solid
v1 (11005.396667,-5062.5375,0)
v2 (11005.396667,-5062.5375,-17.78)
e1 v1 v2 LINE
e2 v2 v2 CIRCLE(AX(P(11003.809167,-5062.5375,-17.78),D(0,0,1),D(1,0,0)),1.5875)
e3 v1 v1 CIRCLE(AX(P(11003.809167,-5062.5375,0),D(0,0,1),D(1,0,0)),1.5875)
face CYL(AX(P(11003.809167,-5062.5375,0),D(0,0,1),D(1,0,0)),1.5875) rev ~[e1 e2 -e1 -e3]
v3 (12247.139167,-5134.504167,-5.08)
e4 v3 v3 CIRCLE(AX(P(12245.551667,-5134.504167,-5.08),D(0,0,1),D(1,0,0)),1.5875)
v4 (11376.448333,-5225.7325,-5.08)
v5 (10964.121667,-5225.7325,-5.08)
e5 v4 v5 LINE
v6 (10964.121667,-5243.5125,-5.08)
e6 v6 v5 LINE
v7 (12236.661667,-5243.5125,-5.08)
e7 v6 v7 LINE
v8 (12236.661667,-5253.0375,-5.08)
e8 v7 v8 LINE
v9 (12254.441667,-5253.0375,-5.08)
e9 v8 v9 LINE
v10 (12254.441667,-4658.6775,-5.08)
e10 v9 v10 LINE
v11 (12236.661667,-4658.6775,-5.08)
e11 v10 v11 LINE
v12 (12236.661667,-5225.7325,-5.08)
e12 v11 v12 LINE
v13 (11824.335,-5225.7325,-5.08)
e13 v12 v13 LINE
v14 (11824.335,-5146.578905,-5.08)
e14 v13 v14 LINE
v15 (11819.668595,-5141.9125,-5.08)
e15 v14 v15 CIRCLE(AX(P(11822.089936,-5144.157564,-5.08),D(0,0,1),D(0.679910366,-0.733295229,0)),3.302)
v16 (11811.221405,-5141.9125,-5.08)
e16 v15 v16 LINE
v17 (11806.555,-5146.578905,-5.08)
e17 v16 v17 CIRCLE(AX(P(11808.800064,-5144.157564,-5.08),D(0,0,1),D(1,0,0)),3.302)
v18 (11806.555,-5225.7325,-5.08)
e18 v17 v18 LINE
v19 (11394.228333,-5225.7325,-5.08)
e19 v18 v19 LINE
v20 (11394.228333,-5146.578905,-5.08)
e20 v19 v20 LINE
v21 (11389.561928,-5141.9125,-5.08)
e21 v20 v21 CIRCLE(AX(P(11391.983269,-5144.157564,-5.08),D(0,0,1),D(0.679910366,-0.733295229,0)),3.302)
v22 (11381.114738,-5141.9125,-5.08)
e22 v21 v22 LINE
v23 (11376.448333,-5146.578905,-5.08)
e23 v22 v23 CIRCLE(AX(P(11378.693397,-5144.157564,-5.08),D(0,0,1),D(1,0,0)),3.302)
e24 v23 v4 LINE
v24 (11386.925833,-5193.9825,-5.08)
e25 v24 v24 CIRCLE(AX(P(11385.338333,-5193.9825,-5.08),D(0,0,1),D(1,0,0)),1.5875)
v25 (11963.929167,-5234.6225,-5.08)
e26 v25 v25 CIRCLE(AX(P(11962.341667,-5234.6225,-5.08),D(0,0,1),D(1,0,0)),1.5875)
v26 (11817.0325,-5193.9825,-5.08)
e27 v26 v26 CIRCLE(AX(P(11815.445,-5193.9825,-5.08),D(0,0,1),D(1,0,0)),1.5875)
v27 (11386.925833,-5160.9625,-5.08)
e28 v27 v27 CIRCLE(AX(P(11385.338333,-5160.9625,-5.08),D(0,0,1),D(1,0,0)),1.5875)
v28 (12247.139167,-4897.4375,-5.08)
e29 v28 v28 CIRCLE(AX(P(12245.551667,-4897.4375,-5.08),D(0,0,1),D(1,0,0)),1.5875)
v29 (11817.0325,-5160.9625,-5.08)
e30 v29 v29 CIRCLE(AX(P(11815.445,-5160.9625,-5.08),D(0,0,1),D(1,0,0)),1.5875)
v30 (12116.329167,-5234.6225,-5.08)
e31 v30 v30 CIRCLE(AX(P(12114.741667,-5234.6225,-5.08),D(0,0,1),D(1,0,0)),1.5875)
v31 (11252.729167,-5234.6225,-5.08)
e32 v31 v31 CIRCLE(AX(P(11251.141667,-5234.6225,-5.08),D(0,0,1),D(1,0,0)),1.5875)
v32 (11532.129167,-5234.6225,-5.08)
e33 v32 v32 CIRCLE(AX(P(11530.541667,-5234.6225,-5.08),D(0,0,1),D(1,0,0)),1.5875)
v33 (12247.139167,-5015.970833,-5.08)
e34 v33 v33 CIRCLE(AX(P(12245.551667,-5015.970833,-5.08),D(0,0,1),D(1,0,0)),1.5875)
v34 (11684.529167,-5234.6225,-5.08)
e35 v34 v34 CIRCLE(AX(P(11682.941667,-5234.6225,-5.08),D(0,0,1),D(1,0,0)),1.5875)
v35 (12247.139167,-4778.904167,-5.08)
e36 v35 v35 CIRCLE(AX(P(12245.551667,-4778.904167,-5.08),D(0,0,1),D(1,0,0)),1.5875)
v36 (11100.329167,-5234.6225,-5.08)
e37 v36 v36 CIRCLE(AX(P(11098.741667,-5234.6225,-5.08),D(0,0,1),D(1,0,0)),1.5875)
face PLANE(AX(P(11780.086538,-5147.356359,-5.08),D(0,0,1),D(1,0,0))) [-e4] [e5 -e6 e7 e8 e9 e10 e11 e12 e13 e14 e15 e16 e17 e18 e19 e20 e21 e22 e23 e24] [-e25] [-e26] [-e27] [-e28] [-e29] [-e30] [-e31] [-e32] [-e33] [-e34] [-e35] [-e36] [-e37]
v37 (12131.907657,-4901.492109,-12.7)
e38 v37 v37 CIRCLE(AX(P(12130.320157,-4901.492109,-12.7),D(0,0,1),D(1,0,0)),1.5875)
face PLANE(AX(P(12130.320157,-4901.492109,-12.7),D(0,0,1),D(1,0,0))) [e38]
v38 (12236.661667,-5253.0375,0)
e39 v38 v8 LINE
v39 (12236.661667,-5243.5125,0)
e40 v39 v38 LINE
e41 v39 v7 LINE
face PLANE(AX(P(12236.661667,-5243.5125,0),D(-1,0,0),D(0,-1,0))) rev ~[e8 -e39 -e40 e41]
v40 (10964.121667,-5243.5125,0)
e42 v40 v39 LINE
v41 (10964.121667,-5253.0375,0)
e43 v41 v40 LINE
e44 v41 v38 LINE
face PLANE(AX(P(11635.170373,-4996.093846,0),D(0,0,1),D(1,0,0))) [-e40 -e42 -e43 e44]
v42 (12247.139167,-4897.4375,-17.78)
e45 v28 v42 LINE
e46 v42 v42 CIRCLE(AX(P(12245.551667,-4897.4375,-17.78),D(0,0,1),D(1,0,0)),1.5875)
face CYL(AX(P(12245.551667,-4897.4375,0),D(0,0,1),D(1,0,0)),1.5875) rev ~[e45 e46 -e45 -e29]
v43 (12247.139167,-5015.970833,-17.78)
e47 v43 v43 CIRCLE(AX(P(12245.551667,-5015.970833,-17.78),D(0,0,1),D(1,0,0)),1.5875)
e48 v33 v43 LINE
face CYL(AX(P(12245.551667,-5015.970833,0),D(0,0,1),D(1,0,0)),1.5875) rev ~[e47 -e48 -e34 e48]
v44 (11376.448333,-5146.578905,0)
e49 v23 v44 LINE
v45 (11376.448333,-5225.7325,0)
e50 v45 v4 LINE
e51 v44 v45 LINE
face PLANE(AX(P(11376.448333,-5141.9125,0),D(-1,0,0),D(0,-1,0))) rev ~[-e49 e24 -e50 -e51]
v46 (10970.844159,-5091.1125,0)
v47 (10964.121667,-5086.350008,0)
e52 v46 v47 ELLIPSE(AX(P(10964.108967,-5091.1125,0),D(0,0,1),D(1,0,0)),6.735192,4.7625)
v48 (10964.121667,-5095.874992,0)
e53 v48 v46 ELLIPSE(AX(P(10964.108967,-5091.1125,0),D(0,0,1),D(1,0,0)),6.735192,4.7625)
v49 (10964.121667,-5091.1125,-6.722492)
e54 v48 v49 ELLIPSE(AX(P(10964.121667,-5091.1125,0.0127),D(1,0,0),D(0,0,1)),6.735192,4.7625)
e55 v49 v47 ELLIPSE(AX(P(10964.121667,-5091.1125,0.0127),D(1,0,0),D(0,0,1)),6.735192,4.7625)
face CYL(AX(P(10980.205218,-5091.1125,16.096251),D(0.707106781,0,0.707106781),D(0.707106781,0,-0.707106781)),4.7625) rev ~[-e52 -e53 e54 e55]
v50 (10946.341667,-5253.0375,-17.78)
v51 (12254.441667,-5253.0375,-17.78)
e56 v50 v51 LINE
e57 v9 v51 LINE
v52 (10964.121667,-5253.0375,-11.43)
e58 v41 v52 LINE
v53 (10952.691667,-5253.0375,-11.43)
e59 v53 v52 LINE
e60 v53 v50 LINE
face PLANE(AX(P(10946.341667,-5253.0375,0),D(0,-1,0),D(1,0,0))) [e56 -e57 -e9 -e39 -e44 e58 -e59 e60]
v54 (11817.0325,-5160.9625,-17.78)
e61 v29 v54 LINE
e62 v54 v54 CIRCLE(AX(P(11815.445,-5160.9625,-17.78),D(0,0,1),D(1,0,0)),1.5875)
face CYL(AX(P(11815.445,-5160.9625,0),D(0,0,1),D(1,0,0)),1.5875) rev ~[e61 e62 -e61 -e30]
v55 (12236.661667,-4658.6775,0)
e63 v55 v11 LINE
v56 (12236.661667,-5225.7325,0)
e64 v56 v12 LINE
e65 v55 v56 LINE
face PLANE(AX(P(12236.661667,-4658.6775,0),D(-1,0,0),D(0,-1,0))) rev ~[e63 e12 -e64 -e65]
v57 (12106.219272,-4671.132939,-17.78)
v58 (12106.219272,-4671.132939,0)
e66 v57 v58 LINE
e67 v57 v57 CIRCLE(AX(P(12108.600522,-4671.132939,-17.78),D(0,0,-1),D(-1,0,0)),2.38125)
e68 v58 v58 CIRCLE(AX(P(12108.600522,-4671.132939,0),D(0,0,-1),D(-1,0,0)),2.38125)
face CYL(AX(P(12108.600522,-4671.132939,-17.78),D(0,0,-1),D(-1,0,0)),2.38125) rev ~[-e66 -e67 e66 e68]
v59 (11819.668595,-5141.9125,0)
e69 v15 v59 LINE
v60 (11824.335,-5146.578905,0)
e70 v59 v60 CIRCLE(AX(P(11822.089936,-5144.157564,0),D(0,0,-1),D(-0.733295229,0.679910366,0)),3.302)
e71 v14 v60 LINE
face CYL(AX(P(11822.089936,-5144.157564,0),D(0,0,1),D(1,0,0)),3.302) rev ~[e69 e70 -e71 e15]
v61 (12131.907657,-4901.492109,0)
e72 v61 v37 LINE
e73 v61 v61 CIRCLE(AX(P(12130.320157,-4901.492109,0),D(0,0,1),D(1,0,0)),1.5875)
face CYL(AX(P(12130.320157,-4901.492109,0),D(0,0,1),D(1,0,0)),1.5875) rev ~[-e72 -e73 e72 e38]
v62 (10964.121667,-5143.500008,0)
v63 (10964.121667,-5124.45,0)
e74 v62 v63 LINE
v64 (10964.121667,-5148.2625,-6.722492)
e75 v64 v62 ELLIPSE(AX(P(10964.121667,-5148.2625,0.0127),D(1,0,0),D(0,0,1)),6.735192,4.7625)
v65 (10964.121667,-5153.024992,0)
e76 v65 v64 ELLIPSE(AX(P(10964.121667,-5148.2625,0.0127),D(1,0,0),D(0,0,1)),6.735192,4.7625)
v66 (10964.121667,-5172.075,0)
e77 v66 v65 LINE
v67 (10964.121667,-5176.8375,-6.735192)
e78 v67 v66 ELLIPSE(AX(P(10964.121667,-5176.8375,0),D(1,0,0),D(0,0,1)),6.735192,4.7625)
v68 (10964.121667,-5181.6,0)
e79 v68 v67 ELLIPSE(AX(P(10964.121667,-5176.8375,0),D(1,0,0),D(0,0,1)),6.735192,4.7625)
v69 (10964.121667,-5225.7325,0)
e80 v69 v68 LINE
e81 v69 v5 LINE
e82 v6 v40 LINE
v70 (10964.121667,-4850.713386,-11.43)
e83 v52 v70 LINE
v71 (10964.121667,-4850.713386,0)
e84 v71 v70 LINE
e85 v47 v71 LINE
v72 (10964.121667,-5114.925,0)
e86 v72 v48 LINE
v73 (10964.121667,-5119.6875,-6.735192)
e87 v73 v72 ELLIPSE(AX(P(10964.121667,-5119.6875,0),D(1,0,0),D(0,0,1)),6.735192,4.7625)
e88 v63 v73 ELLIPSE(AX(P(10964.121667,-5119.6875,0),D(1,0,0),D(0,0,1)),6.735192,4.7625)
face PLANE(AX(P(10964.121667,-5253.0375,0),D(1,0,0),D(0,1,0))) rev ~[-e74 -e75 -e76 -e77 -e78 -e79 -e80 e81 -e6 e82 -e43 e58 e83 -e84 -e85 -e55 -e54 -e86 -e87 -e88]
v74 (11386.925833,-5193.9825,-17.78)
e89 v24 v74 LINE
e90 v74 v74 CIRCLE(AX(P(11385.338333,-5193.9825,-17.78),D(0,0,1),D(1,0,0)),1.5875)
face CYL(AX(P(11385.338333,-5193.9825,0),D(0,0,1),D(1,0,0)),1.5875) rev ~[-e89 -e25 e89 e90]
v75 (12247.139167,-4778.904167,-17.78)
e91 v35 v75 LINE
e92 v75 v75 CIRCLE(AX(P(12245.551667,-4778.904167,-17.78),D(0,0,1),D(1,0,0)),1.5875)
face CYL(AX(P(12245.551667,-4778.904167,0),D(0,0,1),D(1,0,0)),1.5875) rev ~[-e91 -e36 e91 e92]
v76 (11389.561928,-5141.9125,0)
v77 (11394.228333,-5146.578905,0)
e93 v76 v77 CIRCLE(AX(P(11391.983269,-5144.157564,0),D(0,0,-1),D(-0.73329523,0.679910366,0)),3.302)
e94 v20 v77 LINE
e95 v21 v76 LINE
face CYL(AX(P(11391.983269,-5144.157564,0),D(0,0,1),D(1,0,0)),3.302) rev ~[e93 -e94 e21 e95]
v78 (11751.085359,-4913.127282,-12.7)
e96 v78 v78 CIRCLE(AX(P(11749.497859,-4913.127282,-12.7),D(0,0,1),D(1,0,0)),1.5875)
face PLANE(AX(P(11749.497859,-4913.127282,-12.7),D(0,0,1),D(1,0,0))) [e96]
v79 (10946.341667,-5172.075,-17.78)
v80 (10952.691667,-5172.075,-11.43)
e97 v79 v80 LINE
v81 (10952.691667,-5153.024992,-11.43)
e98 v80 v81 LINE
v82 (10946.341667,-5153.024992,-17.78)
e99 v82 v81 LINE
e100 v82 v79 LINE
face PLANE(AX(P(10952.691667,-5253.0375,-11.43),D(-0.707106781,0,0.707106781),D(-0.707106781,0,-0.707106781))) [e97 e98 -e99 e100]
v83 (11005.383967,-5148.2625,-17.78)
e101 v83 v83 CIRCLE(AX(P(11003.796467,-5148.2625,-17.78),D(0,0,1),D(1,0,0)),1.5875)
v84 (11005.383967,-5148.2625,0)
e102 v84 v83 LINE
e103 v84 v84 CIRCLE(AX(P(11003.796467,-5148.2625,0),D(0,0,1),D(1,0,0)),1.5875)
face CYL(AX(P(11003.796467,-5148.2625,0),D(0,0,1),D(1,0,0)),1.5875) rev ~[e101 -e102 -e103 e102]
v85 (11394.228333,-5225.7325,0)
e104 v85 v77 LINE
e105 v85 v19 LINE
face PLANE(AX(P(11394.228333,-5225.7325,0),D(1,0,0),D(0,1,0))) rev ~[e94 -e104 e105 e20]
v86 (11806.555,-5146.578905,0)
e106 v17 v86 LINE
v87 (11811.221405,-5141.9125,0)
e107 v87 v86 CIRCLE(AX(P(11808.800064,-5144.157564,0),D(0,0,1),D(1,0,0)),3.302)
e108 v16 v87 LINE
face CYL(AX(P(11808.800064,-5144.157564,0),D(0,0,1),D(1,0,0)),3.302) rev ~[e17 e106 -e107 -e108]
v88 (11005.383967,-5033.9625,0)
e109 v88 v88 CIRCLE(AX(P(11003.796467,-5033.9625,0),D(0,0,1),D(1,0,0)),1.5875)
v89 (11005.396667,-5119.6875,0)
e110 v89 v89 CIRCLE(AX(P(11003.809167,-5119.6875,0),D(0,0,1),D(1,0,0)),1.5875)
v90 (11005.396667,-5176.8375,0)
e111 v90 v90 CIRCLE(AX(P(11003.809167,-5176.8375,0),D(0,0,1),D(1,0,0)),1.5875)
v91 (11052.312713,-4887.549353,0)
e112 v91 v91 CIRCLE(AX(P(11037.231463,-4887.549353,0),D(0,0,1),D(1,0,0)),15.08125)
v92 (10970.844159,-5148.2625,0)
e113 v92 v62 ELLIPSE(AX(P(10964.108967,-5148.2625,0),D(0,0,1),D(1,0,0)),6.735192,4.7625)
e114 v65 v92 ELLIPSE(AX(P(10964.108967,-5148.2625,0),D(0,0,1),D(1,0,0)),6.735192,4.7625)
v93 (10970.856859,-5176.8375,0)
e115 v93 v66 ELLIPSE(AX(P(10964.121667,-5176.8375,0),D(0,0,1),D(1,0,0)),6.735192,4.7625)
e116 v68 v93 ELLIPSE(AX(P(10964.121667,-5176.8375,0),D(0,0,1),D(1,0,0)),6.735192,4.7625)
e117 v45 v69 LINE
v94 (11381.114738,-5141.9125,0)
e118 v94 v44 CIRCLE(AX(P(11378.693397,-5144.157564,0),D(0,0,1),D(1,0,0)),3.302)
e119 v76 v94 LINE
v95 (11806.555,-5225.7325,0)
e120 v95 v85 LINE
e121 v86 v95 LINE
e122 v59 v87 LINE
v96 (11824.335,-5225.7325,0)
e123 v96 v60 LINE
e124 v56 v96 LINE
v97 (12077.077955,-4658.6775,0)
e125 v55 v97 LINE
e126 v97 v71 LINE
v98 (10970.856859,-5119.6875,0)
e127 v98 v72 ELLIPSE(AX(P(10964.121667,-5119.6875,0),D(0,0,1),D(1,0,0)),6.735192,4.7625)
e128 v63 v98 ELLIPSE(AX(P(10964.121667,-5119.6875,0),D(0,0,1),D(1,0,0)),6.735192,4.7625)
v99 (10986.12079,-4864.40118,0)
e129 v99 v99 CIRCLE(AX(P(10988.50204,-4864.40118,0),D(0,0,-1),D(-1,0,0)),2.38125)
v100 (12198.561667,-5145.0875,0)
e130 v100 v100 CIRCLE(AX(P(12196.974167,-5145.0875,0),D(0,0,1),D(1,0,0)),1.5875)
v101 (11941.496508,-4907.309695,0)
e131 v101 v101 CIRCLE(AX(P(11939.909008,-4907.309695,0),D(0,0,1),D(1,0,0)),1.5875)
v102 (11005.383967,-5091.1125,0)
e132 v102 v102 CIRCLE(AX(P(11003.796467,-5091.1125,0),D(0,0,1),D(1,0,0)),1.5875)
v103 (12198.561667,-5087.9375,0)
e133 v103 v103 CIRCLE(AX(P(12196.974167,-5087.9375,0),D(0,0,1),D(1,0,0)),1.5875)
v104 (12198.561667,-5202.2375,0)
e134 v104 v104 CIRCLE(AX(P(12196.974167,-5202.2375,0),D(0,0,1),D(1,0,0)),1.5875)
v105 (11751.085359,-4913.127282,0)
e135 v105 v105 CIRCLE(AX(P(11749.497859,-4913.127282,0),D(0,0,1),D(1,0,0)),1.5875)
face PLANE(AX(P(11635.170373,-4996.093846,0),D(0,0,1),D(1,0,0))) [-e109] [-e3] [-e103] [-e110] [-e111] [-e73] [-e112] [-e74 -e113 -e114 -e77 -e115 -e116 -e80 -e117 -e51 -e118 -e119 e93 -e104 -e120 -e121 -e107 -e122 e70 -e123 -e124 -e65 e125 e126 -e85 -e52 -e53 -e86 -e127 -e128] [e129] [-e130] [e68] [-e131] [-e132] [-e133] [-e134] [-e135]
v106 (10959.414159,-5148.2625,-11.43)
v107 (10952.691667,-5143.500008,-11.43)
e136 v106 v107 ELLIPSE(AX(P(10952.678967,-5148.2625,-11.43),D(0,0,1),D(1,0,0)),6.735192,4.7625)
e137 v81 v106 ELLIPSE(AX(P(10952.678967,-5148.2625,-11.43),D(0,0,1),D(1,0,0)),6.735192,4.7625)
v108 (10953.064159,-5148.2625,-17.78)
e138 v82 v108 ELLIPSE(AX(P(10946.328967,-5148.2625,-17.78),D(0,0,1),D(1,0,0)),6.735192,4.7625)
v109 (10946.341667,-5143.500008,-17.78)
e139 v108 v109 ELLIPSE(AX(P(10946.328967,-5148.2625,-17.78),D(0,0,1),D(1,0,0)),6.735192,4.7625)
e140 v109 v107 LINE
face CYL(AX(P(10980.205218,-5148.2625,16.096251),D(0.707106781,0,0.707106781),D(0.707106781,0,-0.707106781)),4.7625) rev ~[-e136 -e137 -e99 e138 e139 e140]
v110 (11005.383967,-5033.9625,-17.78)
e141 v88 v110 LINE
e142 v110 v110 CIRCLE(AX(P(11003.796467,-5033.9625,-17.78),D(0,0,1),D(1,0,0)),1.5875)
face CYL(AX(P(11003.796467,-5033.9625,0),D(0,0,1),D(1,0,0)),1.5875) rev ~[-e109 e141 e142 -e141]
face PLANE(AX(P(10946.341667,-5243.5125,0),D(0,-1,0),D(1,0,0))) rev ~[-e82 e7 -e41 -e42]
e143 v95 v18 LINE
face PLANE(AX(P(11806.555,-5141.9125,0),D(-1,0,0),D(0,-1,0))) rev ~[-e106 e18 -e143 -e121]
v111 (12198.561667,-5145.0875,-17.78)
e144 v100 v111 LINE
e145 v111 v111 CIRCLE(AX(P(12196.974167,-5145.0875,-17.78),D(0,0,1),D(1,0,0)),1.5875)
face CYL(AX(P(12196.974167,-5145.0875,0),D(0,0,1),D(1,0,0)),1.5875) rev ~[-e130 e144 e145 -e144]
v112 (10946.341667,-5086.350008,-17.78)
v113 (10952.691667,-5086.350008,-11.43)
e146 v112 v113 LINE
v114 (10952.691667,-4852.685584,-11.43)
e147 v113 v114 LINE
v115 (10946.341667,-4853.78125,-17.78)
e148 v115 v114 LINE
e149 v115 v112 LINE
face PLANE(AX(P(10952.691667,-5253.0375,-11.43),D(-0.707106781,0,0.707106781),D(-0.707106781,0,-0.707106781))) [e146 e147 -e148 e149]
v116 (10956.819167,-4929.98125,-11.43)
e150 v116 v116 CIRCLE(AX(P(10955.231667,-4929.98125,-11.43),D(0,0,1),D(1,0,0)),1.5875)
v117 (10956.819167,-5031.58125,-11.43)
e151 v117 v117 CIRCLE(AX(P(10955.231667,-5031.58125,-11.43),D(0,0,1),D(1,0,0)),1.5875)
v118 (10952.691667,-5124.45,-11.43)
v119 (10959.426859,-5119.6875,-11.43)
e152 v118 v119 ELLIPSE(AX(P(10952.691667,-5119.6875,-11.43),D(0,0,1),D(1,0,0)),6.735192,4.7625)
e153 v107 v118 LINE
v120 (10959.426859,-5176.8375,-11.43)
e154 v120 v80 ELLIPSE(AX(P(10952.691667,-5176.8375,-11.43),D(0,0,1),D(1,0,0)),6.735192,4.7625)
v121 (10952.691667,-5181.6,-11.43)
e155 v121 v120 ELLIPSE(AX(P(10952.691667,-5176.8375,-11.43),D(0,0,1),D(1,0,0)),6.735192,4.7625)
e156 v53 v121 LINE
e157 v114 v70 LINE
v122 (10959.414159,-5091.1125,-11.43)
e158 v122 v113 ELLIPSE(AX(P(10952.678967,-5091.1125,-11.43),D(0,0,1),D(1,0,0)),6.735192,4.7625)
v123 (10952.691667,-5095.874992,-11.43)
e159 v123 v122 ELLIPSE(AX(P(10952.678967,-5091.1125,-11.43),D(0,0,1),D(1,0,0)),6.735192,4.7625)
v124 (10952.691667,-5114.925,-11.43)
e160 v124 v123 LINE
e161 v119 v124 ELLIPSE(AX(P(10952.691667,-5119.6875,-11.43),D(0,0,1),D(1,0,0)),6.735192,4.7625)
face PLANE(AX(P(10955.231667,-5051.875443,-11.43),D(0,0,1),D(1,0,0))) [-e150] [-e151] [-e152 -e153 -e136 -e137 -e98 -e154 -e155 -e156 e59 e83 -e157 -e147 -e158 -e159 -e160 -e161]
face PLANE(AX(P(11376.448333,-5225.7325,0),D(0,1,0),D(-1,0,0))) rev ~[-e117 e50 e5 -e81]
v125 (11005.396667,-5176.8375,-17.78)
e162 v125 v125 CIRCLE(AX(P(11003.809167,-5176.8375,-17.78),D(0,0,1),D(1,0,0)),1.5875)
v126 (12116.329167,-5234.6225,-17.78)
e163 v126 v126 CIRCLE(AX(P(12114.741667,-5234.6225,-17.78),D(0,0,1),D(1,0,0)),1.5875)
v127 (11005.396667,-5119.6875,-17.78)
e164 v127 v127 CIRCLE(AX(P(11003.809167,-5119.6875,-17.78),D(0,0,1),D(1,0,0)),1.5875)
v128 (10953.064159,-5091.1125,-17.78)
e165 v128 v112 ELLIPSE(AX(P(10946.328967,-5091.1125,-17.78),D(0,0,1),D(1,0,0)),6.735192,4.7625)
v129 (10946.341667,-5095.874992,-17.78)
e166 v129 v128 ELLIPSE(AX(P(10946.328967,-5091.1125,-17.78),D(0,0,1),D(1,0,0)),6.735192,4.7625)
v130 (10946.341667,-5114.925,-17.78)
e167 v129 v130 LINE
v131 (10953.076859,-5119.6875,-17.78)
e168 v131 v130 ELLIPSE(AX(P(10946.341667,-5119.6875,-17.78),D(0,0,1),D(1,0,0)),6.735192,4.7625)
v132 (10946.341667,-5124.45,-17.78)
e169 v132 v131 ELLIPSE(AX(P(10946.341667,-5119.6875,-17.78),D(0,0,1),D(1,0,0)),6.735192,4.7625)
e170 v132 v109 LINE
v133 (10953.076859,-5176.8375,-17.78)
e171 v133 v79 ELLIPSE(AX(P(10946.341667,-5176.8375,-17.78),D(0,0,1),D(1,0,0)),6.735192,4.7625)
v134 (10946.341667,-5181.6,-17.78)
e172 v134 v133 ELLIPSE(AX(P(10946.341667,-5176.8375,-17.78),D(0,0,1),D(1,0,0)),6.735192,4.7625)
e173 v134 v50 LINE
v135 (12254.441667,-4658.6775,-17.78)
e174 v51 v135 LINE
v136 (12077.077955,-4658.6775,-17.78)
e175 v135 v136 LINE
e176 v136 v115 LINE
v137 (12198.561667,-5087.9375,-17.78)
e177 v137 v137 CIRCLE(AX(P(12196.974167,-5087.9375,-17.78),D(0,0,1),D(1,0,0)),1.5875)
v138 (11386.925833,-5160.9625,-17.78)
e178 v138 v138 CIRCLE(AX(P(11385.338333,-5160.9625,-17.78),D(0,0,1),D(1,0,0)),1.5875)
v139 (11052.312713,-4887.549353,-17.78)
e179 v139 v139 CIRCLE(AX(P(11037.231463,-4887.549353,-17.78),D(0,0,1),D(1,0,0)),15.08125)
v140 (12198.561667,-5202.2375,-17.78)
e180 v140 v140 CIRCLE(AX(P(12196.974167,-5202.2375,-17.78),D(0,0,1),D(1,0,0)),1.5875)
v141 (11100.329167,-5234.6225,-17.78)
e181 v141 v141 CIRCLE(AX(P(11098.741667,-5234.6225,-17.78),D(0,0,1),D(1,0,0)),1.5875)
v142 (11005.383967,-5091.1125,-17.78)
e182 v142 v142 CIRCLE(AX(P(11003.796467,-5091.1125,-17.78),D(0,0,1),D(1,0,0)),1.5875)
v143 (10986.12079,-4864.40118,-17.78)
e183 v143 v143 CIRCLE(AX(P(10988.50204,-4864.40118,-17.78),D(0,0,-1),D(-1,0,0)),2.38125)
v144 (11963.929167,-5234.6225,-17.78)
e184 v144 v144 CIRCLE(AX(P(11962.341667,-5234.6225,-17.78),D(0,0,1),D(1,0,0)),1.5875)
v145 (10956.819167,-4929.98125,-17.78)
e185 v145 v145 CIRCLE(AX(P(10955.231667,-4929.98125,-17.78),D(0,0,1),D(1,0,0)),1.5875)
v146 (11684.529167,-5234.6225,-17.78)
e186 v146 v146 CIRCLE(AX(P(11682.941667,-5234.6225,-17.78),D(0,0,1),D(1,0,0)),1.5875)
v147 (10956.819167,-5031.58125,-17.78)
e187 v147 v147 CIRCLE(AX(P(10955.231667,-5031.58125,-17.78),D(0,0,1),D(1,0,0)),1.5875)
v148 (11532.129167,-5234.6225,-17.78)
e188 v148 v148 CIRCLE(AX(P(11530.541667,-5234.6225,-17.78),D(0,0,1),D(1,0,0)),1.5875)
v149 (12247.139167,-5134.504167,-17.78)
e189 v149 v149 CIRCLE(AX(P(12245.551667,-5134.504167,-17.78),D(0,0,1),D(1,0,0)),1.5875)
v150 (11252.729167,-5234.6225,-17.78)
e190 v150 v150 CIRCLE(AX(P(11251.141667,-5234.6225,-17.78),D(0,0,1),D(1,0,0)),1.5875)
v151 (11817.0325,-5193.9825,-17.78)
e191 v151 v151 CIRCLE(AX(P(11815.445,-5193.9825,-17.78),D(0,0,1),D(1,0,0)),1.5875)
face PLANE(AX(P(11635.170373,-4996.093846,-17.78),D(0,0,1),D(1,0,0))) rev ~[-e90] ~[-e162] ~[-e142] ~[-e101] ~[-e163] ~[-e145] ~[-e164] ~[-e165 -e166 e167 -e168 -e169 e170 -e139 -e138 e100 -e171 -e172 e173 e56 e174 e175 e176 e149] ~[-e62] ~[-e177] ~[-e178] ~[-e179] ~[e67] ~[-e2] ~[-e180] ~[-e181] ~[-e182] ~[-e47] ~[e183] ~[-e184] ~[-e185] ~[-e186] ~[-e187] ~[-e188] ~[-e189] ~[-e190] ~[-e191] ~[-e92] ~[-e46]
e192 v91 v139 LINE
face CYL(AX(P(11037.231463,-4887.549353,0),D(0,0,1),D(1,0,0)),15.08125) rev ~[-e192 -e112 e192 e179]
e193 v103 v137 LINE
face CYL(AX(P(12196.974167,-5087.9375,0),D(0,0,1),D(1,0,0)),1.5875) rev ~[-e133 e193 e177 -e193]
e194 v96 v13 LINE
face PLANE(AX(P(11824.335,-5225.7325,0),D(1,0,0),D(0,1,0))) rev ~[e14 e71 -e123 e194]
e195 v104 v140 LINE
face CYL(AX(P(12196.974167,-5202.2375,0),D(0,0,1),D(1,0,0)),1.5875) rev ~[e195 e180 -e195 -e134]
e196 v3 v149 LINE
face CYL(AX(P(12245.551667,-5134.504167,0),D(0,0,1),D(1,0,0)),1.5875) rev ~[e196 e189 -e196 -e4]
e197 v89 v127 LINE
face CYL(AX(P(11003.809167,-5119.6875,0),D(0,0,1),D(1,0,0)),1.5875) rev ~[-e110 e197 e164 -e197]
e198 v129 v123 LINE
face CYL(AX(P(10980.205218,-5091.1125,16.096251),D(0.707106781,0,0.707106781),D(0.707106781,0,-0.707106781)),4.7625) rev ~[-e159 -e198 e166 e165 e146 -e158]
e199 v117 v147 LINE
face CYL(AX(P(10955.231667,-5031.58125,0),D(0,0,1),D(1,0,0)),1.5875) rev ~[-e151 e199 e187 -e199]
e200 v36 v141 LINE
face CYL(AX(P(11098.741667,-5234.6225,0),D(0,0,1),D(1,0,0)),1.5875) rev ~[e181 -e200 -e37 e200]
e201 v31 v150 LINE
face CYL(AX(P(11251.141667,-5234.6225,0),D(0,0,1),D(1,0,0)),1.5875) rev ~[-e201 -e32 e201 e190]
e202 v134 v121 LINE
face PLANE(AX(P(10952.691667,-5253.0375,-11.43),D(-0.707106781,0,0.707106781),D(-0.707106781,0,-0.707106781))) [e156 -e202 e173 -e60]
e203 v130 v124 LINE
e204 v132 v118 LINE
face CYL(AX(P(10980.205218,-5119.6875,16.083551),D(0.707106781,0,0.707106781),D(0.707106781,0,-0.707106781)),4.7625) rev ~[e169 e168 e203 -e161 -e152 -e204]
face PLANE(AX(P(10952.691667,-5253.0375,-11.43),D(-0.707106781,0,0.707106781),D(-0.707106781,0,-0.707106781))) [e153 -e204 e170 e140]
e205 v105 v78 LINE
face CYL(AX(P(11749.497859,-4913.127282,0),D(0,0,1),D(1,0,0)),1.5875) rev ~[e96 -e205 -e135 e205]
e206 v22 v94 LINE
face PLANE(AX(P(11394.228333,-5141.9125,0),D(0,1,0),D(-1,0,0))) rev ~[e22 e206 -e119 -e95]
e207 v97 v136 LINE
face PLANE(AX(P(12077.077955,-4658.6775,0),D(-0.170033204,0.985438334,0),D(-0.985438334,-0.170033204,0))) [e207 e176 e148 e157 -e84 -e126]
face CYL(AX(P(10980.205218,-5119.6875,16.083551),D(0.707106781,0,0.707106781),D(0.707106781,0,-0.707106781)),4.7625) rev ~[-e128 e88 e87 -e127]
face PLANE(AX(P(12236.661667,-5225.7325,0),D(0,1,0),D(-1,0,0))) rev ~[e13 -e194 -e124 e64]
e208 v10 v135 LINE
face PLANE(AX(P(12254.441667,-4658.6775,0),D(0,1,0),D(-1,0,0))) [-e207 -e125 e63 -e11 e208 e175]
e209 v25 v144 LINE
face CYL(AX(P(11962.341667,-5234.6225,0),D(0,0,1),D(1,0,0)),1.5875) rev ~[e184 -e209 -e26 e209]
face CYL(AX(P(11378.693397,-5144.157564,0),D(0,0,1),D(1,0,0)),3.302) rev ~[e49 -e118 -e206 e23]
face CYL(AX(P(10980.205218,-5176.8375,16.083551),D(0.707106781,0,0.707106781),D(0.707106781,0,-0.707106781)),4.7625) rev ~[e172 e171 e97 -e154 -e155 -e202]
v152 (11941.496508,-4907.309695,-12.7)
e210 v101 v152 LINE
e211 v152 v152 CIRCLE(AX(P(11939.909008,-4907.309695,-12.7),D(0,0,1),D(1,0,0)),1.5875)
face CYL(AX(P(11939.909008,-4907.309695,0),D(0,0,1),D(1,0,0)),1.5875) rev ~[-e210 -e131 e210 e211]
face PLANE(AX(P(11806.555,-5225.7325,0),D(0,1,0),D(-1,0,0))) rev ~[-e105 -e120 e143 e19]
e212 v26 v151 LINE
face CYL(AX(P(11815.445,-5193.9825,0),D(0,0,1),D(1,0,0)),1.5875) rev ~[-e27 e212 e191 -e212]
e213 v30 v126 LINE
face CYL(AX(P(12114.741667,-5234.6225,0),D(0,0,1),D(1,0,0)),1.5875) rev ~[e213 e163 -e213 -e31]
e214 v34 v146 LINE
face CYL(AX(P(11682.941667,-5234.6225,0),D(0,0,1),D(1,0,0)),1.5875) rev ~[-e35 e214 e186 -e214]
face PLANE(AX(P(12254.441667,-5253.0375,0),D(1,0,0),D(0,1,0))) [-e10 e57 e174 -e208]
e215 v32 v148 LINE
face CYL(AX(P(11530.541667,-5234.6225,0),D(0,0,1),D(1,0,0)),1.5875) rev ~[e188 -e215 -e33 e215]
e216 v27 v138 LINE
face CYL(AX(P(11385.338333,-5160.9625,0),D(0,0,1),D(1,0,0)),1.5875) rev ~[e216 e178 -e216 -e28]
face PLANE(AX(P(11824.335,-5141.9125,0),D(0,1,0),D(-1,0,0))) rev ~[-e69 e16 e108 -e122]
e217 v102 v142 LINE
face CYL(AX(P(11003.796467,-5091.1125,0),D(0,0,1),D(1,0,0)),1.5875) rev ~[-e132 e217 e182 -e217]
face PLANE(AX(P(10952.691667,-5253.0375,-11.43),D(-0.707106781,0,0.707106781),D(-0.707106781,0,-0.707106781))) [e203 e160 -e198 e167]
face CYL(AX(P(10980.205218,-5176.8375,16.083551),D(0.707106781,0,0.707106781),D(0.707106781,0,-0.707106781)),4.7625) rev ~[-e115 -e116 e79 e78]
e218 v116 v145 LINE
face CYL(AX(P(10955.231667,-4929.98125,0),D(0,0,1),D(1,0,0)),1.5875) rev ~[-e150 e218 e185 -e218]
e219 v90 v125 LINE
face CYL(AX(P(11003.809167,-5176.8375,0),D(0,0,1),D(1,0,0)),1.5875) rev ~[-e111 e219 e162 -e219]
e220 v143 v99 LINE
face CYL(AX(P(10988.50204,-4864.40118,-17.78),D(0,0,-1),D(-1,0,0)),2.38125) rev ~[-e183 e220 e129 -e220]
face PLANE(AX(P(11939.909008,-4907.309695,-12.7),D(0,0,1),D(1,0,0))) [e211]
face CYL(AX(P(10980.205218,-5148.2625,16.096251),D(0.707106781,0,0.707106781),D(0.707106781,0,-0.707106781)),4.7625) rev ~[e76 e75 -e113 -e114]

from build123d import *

# Parameters (mm, degrees)
CABSIDELEFT_THICKNESS_DEPTH = 17.78
LEDGECUTS_DEPTH_DEPTH       = 5.08
CABFRONTLEDGECUT_W          = 17.78
CABFRONTLEDGECUT_H          = 402.324113577
FRONTLEDGECUT_DEPTH_DEPTH   = 11.43
SKETCH5_R                   = 15.08125
SKETCH5_R_2                 = 1.5875
CUT_EXTRUDE3_DEPTH          = 17.78
SKETCH6_R                   = 3.302
CUT_EXTRUDE4_DEPTH          = 5.08
CUT_EXTRUDE5_DEPTH          = 594.36
SKETCH8_R                   = 2.38125
CUT_EXTRUDE6_DEPTH          = 17.78
SKETCH9_R                   = 1.5875
CUT_EXTRUDE7_DEPTH          = 12.7
SKETCH10_R                  = 4.7625
CUT_EXTRUDE8_DEPTH          = 76.2
SKETCH11_R                  = 4.7625
CUT_EXTRUDE9_DEPTH          = 76.2


with BuildPart() as part:
    # CabSideLeft_Outline → CabSideLeft_Thickness (new body)
    with BuildSketch(Plane.XY):
        Polygon((10946.341666666, -4853.78125), (10946.341666666, -5253.0375), (12254.441666666, -5253.0375), (12254.441666666, -4658.6775), (12077.077955444, -4658.6775), align=None)
    extrude(amount=-CABSIDELEFT_THICKNESS_DEPTH)

    # CabSideLeft_LedgeCuts → LedgeCuts_Depth (cut)
    with BuildSketch(Plane.XY):
        Polygon((10946.341666666, -5225.7325), (10946.341666666, -5243.5125), (12236.661666666, -5243.5125), (12236.661666666, -5253.0375), (12254.441666666, -5253.0375), (12254.441666666, -4658.6775), (12236.661666666, -4658.6775), (12236.661666666, -5225.7325), (11824.335, -5225.7325), (11824.335, -5141.9125), (11806.555, -5141.9125), (11806.555, -5225.7325), (11394.228333334, -5225.7325), (11394.228333334, -5141.912499999), (11376.448333334, -5141.9125), (11376.448333334, -5225.7325), align=None)
    extrude(amount=-LEDGECUTS_DEPTH_DEPTH, mode=Mode.SUBTRACT)

    # CabFrontLedgeCut → FrontLedgeCut_Depth (cut)
    with BuildSketch(Plane.XY):
        with Locations((10955.231666666, -5051.875443212)):
            Rectangle(CABFRONTLEDGECUT_W, CABFRONTLEDGECUT_H)
    extrude(amount=-FRONTLEDGECUT_DEPTH_DEPTH, mode=Mode.SUBTRACT)

    # Sketch5 → Cut-Extrude3 (cut)
    with BuildSketch(Plane.XY):
        with Locations((11037.231463428, -4887.549352662)):
            Circle(SKETCH5_R)
        with Locations((11003.796466666, -5033.9625)):
            Circle(SKETCH5_R_2)
        with Locations((10955.231666666, -4929.98125)):
            Circle(SKETCH5_R_2)
        with Locations((10955.231666666, -5031.58125)):
            Circle(SKETCH5_R_2)
        with Locations((11003.809166666, -5062.5375)):
            Circle(SKETCH5_R_2)
        with Locations((11003.809166666, -5119.6875)):
            Circle(SKETCH5_R_2)
        with Locations((11003.809166666, -5176.8375)):
            Circle(SKETCH5_R_2)
        with Locations((11251.141666666, -5234.6225)):
            Circle(SKETCH5_R_2)
        with Locations((11098.741666666, -5234.6225)):
            Circle(SKETCH5_R_2)
        with Locations((11385.338333334, -5160.9625)):
            Circle(SKETCH5_R_2)
        with Locations((11385.338333334, -5193.9825)):
            Circle(SKETCH5_R_2)
        with Locations((11530.541666666, -5234.6225)):
            Circle(SKETCH5_R_2)
        with Locations((11682.941666666, -5234.6225)):
            Circle(SKETCH5_R_2)
        with Locations((11815.445, -5160.9625)):
            Circle(SKETCH5_R_2)
        with Locations((11815.445, -5193.9825)):
            Circle(SKETCH5_R_2)
        with Locations((11962.341666666, -5234.6225)):
            Circle(SKETCH5_R_2)
        with Locations((12114.741666666, -5234.6225)):
            Circle(SKETCH5_R_2)
        with Locations((12196.974166666, -5202.2375)):
            Circle(SKETCH5_R_2)
        with Locations((12196.974166666, -5145.0875)):
            Circle(SKETCH5_R_2)
        with Locations((12245.551666666, -5134.504166666)):
            Circle(SKETCH5_R_2)
        with Locations((12196.974166666, -5087.9375)):
            Circle(SKETCH5_R_2)
        with Locations((12245.551666666, -5015.970833334)):
            Circle(SKETCH5_R_2)
        with Locations((12245.551666666, -4897.4375)):
            Circle(SKETCH5_R_2)
        with Locations((12245.551666666, -4778.904166666)):
            Circle(SKETCH5_R_2)
        with Locations((11003.796466666, -5091.1125)):
            Circle(SKETCH5_R_2)
        with Locations((11003.796466666, -5148.2625)):
            Circle(SKETCH5_R_2)
    extrude(amount=-CUT_EXTRUDE3_DEPTH, mode=Mode.SUBTRACT)

    # Sketch6 → Cut-Extrude4 (cut)
    with BuildSketch(Plane.XY):
        with Locations((11378.693397364, -5144.15756403)):
            Circle(SKETCH6_R)
        with Locations((11391.983269304, -5144.157564029)):
            Circle(SKETCH6_R)
        with Locations((11808.80006403, -5144.15756403)):
            Circle(SKETCH6_R)
        with Locations((11822.08993597, -5144.15756403)):
            Circle(SKETCH6_R)
    extrude(amount=-CUT_EXTRUDE4_DEPTH, mode=Mode.SUBTRACT)

    # FrontBevelCut → Cut-Extrude5 (cut)
    with BuildSketch(Plane.XZ.offset(5253.0375)):
        Polygon((10946.341666666, -17.78), (10946.341666666, -11.43), (10952.691666666, -11.43), align=None)
    extrude(amount=-CUT_EXTRUDE5_DEPTH, mode=Mode.SUBTRACT)

    # Sketch8 → Cut-Extrude6 (cut)
    with BuildSketch(Plane(origin=(0, 0, -17.78), x_dir=(-1, 0, 0), z_dir=(0, 0, -1))):
        with Locations((-10988.502040274, -4864.401180469)):
            Circle(SKETCH8_R)
        with Locations((-12108.60052224, -4671.132938908)):
            Circle(SKETCH8_R)
    extrude(amount=-CUT_EXTRUDE6_DEPTH, mode=Mode.SUBTRACT)

    # Sketch9 → Cut-Extrude7 (cut)
    with BuildSketch(Plane.XY):
        with Locations((12130.320157336, -4901.492108659)):
            Circle(SKETCH9_R)
        with Locations((11939.909008281, -4907.309695425)):
            Circle(SKETCH9_R)
        with Locations((11749.497859227, -4913.127282192)):
            Circle(SKETCH9_R)
    extrude(amount=-CUT_EXTRUDE7_DEPTH, mode=Mode.SUBTRACT)

    # Sketch10 → Cut-Extrude8 (cut)
    with BuildSketch(Plane(origin=(5498.144384557, 0, 5498.144384557), x_dir=(0.707106781, 0, -0.707106781), z_dir=(0.707106781, 0, 0.707106781))):
        with Locations((7752.804780254, -5119.6875)):
            Circle(SKETCH10_R)
        with Locations((7752.804780254, -5176.8375)):
            Circle(SKETCH10_R)
    extrude(amount=-CUT_EXTRUDE8_DEPTH, mode=Mode.SUBTRACT)

    # Sketch11 → Cut-Extrude9 (cut)
    with BuildSketch(Plane(origin=(5498.150734557, 0, 5498.150734557), x_dir=(0.707106781, 0, -0.707106781), z_dir=(0.707106781, 0, 0.707106781))):
        with Locations((7752.795799998, -5091.1125)):
            Circle(SKETCH11_R)
        with Locations((7752.795799998, -5148.2625)):
            Circle(SKETCH11_R)
    extrude(amount=-CUT_EXTRUDE9_DEPTH, mode=Mode.SUBTRACT)


solid = part.part
